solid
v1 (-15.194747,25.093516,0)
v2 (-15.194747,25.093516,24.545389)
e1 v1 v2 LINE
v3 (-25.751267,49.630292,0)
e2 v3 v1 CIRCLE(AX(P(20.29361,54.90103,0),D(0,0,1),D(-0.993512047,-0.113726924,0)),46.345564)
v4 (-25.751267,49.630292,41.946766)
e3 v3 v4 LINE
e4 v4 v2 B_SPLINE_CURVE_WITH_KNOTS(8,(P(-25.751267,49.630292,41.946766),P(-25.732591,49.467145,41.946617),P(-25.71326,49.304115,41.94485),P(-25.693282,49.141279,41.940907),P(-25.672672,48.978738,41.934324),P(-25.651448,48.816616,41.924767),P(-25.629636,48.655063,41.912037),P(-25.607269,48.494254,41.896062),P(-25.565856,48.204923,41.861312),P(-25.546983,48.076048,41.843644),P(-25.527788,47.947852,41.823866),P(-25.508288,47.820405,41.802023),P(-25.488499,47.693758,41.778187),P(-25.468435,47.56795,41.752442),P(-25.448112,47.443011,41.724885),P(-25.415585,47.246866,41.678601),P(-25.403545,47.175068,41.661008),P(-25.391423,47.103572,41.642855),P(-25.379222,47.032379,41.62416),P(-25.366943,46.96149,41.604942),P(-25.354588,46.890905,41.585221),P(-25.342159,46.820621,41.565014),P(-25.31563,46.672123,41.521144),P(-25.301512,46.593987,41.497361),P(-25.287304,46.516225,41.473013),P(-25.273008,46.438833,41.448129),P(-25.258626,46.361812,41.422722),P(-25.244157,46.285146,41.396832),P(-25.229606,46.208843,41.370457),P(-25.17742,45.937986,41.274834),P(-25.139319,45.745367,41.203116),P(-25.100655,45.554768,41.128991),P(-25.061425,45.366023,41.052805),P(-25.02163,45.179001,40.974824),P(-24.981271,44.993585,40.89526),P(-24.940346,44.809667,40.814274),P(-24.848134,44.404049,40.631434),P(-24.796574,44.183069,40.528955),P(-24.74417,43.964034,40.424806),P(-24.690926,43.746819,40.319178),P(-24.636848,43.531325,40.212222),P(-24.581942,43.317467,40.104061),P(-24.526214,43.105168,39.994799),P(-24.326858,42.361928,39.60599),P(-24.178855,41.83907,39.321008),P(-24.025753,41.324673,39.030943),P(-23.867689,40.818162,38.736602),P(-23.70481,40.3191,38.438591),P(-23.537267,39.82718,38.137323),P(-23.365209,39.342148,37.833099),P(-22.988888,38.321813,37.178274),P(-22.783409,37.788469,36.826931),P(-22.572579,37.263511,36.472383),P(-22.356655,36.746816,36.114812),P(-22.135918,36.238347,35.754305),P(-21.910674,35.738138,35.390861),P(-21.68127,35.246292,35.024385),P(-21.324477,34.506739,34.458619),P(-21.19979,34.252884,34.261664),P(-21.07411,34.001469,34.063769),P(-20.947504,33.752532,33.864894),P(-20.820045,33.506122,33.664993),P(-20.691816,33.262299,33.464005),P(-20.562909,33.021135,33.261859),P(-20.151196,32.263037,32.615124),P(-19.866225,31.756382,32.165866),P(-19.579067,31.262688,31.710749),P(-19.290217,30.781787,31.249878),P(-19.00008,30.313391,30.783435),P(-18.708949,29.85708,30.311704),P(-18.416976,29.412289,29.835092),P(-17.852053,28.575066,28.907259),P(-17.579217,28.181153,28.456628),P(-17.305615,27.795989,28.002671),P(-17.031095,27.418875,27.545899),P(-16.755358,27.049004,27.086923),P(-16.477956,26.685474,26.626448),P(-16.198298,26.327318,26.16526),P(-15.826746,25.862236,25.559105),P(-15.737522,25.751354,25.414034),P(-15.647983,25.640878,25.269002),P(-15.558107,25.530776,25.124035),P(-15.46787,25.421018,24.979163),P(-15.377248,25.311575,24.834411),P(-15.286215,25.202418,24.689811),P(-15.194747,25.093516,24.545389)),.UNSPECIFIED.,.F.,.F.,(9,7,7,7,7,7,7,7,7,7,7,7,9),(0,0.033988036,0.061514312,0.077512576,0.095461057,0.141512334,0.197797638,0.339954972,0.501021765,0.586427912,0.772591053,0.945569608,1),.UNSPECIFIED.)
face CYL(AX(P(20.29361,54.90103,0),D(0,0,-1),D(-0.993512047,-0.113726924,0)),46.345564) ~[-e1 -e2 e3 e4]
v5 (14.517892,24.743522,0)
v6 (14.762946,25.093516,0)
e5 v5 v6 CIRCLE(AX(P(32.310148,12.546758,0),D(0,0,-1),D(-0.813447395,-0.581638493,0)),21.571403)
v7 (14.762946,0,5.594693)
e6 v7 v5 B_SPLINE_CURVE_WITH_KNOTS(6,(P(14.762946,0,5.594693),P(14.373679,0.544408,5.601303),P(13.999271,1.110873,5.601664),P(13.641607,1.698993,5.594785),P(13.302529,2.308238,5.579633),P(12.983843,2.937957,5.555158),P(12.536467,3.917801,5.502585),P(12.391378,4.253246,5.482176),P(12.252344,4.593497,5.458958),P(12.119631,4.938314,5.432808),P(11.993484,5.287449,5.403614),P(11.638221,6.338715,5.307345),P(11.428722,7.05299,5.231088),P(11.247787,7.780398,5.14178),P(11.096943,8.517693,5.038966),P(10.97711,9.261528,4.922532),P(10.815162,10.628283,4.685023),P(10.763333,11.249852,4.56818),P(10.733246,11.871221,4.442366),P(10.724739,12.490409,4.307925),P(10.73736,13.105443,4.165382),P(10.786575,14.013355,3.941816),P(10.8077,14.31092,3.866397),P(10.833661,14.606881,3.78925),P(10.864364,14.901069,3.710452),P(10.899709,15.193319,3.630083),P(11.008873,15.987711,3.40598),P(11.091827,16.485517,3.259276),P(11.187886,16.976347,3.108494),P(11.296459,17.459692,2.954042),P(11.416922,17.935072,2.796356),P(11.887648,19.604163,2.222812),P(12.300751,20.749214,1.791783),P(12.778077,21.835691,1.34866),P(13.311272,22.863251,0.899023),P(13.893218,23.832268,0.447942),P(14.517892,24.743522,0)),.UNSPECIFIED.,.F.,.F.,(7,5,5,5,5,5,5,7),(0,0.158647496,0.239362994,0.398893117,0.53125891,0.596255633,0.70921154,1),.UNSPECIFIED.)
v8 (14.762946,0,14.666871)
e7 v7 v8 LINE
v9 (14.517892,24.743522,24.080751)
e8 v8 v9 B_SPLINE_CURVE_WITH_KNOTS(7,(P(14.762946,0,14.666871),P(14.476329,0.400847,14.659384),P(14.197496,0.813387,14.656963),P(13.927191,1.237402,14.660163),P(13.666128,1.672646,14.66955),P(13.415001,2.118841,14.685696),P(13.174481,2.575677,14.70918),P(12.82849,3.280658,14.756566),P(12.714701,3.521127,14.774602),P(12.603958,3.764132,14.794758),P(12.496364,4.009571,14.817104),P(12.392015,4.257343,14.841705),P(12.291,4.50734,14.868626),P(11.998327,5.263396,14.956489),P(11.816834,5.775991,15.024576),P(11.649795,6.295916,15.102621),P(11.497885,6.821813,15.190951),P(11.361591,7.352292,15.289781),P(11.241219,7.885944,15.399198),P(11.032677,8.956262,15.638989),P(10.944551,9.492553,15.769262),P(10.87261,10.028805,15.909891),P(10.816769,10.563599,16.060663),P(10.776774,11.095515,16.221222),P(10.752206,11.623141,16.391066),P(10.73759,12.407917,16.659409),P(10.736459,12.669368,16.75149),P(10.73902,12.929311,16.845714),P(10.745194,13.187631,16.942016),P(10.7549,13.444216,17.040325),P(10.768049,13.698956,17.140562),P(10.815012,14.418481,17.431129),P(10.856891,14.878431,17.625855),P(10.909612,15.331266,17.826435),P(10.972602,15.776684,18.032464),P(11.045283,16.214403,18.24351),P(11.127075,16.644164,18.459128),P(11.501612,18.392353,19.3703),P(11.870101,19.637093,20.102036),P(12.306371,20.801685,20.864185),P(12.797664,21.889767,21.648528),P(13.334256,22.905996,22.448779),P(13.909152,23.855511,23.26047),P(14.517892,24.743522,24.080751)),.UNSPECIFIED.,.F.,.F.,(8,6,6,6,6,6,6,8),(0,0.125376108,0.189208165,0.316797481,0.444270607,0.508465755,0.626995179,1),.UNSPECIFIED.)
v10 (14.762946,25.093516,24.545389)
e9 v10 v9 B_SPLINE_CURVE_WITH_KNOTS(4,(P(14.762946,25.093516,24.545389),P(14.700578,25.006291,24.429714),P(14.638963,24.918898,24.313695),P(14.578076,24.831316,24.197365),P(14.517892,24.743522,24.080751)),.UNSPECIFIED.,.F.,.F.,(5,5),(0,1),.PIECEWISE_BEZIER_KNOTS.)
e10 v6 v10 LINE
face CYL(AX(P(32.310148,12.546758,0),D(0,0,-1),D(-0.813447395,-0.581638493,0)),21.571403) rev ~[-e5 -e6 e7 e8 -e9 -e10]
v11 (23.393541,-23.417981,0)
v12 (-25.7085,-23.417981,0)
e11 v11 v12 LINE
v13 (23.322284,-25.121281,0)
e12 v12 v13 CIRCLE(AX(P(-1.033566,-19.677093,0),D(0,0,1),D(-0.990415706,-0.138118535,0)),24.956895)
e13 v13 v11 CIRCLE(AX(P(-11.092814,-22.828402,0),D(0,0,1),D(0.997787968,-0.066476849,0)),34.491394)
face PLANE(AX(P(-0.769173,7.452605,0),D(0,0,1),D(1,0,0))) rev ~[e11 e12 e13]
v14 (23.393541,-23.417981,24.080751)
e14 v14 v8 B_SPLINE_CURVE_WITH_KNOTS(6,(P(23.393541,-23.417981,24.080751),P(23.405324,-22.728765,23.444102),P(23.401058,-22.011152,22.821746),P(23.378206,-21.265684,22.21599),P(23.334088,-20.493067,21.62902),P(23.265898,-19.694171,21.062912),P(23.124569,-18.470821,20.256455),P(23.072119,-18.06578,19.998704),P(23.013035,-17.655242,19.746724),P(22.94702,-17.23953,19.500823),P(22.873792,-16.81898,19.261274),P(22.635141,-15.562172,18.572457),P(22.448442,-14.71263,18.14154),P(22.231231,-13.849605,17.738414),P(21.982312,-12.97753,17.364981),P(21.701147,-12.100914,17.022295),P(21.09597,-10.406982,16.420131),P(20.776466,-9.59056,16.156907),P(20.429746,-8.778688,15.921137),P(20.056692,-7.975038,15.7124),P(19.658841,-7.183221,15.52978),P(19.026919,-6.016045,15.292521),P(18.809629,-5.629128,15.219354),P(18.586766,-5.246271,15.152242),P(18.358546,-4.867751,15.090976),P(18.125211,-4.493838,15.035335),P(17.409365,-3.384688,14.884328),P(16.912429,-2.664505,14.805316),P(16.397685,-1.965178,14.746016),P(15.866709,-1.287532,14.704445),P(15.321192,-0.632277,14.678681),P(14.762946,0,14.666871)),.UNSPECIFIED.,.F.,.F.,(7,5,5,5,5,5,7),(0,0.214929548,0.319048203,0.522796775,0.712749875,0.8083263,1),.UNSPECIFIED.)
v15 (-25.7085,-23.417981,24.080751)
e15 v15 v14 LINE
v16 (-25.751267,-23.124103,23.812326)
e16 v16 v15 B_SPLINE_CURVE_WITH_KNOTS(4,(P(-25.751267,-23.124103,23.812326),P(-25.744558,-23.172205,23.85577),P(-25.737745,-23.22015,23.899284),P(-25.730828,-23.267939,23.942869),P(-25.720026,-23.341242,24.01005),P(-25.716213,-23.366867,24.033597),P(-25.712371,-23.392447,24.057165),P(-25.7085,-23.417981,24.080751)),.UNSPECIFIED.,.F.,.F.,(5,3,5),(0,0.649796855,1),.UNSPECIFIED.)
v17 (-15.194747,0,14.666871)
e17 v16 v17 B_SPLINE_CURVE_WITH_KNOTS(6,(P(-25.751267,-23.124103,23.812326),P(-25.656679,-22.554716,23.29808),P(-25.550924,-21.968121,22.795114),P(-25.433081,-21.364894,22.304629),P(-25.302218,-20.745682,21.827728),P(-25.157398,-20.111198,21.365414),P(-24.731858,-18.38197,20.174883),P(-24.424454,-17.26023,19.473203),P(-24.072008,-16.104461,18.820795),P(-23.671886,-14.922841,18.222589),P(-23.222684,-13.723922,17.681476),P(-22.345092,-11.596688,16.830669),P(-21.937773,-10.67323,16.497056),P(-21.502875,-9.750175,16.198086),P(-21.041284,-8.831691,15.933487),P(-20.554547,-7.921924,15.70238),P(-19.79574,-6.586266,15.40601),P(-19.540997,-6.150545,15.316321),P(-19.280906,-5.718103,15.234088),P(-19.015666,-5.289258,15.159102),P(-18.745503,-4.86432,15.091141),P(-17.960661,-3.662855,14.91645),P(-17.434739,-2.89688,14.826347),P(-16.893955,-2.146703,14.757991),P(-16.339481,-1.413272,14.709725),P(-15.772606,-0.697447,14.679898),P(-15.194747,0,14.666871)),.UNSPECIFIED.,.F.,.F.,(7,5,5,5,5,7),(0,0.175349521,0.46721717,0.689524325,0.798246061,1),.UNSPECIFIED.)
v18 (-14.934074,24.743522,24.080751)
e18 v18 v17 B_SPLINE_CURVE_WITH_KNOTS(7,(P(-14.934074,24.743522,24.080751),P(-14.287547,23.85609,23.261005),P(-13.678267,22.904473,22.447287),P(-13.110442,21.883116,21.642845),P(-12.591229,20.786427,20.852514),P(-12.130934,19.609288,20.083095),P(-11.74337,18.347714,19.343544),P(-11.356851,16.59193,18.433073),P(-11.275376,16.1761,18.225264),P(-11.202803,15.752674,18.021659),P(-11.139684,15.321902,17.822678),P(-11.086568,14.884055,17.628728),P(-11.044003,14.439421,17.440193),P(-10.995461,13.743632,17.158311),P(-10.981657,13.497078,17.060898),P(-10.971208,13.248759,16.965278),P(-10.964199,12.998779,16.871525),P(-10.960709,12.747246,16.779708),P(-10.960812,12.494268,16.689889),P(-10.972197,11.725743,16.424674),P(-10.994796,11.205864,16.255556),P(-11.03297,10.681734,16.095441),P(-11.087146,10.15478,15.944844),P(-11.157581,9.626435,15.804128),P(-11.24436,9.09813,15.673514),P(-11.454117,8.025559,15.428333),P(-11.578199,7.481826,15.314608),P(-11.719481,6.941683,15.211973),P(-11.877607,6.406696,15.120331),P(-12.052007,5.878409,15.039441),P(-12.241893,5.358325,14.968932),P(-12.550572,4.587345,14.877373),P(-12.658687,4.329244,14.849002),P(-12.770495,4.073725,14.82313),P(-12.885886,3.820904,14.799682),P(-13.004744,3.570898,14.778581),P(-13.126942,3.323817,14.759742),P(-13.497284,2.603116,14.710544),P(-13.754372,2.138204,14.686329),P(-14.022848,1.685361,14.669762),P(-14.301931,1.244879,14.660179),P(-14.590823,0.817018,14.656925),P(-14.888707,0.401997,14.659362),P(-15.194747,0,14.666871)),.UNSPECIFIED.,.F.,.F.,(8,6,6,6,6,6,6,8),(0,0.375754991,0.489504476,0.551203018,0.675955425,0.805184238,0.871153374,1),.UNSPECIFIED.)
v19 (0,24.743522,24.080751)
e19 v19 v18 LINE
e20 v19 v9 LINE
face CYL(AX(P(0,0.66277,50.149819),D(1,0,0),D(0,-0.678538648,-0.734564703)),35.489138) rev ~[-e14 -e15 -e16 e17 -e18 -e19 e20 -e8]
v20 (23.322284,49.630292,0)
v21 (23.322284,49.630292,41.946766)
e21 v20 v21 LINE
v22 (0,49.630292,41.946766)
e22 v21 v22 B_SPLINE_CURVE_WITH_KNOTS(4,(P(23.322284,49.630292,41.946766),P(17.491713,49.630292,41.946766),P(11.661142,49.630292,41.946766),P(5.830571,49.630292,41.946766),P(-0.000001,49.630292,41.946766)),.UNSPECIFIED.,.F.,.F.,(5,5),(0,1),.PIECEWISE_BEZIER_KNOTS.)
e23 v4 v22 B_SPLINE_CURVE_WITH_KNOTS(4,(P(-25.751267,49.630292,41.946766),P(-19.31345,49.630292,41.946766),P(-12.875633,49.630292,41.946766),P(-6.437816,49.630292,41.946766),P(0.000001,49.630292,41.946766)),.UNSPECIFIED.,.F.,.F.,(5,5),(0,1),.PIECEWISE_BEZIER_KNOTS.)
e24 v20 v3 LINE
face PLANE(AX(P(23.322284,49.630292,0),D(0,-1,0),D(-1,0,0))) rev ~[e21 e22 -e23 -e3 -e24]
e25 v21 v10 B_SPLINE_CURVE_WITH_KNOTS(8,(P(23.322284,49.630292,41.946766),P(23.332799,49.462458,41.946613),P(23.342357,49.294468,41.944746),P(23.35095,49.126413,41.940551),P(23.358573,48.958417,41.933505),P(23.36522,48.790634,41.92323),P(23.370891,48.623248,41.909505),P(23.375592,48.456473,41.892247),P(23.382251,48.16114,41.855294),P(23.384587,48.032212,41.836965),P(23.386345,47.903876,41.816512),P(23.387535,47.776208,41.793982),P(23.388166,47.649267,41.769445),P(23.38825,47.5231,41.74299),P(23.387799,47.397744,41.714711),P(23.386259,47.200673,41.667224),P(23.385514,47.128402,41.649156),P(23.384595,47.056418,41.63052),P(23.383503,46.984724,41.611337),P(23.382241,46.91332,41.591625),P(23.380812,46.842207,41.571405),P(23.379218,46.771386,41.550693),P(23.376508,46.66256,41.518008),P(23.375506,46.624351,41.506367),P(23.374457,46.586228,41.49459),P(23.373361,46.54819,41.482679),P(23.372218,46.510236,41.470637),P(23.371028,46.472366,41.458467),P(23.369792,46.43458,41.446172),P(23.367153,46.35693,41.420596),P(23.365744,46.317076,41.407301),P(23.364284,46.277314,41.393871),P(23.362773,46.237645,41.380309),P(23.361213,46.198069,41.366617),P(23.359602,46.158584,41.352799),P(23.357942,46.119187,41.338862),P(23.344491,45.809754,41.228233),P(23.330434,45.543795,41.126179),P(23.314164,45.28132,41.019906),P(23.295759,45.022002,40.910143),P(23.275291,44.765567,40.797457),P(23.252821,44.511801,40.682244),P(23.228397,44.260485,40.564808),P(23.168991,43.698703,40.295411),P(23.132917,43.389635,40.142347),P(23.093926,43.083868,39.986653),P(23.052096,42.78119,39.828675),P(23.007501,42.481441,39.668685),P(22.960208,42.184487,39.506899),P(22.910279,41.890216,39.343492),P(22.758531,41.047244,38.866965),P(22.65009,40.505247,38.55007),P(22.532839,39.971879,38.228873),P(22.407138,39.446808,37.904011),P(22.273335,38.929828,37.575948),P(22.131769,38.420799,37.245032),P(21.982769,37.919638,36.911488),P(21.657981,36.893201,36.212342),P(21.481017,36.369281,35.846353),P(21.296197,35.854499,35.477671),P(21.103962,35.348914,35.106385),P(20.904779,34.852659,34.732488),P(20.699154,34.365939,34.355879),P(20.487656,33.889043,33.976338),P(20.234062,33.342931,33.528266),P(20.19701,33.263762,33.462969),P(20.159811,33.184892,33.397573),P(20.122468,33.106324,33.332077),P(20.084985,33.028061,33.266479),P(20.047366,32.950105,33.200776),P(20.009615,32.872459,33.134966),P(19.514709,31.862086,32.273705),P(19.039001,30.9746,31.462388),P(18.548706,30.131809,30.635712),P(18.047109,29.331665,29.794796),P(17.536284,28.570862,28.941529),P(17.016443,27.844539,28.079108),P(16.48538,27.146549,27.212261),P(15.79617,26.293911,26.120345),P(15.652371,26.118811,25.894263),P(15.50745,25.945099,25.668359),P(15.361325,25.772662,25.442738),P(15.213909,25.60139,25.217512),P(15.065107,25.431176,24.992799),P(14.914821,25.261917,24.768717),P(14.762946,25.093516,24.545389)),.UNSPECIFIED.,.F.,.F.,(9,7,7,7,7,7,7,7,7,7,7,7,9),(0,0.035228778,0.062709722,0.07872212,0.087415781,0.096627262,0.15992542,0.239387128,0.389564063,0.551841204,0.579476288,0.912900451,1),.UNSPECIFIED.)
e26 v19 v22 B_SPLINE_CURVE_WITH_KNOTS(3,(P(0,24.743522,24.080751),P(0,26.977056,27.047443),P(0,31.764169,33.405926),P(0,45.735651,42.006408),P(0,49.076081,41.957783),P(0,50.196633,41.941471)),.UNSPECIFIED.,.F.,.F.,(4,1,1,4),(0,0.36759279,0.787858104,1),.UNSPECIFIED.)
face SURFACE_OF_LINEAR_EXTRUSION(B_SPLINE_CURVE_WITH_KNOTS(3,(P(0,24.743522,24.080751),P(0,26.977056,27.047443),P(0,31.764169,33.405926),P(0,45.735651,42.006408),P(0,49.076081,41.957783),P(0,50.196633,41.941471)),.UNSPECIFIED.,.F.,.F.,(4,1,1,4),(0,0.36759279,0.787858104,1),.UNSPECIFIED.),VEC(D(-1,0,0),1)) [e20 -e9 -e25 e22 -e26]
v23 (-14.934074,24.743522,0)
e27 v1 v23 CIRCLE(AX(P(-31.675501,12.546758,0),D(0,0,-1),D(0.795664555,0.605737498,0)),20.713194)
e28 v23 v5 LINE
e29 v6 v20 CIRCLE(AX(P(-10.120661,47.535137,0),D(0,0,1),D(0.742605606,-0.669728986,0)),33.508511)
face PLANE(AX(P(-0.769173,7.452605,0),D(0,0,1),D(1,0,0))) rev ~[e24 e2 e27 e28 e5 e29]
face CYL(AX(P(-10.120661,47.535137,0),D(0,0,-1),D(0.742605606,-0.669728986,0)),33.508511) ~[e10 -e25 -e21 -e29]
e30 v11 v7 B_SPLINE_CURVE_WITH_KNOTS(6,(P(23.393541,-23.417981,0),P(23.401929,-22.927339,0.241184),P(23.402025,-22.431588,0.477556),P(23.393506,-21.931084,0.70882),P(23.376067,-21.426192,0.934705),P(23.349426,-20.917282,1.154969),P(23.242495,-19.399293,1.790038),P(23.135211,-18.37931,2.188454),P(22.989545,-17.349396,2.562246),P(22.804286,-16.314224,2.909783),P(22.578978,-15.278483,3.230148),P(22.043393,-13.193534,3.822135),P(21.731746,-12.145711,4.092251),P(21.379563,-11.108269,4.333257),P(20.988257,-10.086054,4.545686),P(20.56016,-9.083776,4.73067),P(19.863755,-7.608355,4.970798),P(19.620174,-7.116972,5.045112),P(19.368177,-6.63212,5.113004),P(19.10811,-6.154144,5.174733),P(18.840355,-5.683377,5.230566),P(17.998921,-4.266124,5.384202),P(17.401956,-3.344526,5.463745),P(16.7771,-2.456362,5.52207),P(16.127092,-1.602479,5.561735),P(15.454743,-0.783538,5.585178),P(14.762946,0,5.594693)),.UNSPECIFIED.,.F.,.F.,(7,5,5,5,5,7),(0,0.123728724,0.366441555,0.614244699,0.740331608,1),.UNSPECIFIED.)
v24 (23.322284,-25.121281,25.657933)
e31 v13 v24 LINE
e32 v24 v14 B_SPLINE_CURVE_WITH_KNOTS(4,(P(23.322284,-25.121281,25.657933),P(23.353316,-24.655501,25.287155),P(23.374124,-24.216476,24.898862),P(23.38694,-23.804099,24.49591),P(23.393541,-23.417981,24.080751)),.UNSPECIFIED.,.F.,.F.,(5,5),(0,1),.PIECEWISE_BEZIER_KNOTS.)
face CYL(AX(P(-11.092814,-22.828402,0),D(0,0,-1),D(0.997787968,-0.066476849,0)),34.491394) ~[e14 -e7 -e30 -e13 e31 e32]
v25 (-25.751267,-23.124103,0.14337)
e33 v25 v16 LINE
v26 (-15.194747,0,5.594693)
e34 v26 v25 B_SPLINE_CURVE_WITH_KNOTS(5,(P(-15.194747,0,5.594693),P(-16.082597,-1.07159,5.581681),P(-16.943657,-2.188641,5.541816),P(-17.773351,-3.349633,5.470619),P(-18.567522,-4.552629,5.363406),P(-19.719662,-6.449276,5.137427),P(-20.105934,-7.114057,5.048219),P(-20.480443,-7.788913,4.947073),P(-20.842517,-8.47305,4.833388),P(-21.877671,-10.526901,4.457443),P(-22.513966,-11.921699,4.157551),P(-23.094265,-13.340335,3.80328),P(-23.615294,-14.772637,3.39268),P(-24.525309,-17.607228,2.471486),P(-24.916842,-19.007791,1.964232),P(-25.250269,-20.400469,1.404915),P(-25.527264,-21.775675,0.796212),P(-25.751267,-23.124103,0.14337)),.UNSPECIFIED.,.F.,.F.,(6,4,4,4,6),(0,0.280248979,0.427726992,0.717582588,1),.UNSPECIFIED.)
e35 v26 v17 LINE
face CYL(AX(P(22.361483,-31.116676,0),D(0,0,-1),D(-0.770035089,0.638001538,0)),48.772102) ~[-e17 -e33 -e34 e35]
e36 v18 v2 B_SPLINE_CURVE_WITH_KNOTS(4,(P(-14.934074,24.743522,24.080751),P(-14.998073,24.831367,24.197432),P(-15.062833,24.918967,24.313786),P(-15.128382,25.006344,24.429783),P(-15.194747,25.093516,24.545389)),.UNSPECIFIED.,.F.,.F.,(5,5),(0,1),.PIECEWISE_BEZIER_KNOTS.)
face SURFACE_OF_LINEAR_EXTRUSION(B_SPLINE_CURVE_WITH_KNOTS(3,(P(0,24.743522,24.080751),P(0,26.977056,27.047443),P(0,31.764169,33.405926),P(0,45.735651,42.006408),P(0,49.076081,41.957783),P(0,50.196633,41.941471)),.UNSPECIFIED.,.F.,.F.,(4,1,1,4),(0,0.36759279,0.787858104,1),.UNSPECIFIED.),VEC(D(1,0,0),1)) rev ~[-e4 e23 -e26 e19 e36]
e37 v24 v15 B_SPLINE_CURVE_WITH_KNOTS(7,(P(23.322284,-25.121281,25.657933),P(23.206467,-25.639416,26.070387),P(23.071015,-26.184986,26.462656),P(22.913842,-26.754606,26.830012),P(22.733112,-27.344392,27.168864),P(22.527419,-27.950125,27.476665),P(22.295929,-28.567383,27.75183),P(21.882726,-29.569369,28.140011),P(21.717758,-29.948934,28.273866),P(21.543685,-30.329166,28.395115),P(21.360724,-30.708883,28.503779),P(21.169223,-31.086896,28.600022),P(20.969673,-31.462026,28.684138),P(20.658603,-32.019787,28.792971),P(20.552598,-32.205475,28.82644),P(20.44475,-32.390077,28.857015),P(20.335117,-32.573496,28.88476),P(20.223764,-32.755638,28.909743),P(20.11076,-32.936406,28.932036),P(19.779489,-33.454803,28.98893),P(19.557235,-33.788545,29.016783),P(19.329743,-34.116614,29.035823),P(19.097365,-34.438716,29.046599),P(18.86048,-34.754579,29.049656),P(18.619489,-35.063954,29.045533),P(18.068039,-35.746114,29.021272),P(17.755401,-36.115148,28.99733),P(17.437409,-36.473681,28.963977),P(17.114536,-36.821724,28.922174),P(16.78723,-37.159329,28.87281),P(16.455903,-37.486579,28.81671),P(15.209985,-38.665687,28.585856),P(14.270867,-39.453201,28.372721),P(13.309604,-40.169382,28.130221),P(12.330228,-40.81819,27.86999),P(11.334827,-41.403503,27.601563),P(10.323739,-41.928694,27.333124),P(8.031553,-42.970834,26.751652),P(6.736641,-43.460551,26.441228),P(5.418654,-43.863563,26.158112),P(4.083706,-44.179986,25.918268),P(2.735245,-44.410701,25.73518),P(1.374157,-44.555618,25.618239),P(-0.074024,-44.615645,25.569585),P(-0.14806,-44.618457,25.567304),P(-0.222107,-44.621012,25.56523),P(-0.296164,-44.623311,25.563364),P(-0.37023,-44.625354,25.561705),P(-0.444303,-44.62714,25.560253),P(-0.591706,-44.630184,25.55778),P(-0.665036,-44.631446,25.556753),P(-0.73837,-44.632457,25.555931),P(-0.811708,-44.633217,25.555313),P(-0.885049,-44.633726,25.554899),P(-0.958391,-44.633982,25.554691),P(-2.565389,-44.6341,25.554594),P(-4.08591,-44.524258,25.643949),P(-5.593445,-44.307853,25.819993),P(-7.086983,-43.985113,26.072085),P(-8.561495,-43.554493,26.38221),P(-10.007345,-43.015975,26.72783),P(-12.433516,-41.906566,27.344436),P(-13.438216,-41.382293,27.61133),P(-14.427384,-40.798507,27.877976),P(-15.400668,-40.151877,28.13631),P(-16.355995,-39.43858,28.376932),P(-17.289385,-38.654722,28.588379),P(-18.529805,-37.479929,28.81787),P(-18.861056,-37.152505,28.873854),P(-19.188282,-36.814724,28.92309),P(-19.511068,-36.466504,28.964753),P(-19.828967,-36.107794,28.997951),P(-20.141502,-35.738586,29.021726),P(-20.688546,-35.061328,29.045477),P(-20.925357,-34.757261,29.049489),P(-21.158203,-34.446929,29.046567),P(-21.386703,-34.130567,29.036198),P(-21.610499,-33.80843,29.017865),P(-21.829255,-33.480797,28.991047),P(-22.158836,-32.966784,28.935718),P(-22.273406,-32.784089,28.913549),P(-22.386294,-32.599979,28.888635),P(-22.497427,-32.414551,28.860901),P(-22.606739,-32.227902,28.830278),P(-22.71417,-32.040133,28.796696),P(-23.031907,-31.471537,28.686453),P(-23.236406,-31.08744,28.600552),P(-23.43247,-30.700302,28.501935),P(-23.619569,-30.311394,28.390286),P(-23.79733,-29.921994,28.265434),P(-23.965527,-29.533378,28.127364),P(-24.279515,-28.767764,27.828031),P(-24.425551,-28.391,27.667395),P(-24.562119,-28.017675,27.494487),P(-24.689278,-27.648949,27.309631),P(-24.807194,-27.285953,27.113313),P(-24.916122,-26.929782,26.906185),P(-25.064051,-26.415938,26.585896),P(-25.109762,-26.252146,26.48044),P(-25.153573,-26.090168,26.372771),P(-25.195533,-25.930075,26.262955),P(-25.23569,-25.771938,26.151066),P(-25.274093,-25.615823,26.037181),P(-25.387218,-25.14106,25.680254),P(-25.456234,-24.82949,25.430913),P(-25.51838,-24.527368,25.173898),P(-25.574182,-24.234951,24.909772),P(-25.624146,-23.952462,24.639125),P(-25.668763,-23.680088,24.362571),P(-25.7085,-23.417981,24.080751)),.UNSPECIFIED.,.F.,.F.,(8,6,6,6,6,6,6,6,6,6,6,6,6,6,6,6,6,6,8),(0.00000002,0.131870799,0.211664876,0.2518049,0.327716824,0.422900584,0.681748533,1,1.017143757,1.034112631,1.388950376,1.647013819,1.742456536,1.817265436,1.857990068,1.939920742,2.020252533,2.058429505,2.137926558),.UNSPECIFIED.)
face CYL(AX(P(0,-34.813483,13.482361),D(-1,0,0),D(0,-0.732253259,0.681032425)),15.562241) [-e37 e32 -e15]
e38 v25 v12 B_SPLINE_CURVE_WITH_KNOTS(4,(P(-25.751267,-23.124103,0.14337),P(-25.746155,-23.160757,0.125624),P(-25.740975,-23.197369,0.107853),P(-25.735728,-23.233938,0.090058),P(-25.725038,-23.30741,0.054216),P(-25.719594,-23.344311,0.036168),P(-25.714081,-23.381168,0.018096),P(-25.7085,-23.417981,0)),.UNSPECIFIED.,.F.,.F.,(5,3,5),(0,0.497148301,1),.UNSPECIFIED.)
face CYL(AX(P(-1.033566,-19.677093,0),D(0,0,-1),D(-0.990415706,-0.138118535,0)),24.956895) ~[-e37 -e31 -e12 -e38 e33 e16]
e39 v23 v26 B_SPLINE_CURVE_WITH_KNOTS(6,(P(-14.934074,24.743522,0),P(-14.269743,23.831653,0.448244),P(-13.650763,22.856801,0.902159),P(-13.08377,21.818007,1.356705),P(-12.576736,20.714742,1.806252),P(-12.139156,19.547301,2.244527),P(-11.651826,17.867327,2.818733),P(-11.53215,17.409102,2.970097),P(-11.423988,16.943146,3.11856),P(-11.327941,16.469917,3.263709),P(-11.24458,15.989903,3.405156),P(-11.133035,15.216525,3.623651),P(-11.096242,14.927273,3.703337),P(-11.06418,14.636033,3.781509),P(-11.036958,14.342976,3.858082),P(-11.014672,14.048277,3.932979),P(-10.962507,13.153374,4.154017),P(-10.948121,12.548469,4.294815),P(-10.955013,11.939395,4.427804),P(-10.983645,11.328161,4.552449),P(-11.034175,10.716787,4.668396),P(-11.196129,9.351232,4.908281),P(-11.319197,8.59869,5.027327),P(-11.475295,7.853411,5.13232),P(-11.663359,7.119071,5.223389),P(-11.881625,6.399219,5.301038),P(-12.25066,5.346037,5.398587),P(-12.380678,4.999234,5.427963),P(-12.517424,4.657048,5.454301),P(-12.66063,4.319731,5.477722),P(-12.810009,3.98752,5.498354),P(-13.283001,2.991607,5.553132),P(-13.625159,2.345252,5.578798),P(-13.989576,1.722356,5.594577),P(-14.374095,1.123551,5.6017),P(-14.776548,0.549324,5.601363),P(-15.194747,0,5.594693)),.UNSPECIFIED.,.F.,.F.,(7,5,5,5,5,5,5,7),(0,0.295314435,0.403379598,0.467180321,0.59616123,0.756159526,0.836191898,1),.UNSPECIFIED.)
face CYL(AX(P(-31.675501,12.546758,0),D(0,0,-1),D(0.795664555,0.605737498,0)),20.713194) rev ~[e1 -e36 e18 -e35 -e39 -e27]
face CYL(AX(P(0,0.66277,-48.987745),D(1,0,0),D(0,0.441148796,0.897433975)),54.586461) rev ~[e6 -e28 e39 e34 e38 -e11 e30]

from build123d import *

# Parameters (mm, degrees)
F1_DEPTH = 50.8
F3_DEPTH = 25.4
F4_DEPTH = 50.8


with BuildPart() as f1:
    # F0 (on Top) → F1 (new body)
    with BuildSketch(Plane.XY):
        with BuildLine():
            ThreePointArc((-15.1947466657, 0), (-22.0060110943, -10.86221038), (-25.7512666285, -23.1241025031))
            ThreePointArc((-25.7512666285, -23.1241025031), (-2.0484127491, -44.6133454073), (23.3222842216, -25.1212809235))
            ThreePointArc((23.3222842216, -25.1212809235), (21.5555211936, -11.7044416716), (14.7629464045, 0))
            ThreePointArc((14.7629464045, 0), (10.7387450248, 12.5467581674), (14.7629464045, 25.0935163349))
            ThreePointArc((14.7629464045, 25.0935163349), (21.5180813897, 36.4983696165), (23.3222842216, 49.63029176))
            Line((23.3222842216, 49.63029176), (-25.7512666285, 49.63029176))
            ThreePointArc((-25.7512666285, 49.63029176), (-22.2790381522, 36.5848904706), (-15.1947466657, 25.0935163349))
            ThreePointArc((-15.1947466657, 25.0935163349), (-10.9623069939, 12.5467581674), (-15.1947466657, 0))
        make_face()
    extrude(amount=F1_DEPTH)

    # F2 (on Right) → F3 (cut)
    with BuildSketch(Plane.YZ):
        with BuildLine():
            ThreePointArc((24.7435215861, 0), (0.6627701223, 5.5987162901), (-23.4179813415, 0))
            Line((-23.4179813415, 0), (24.7435215861, 0))
        make_face()
        with BuildLine():
            ThreePointArc((-46.2089851499, 24.0807514638), (-34.8134832457, 29.0446018263), (-23.4179813415, 24.0807514638))
            ThreePointArc((-23.4179813415, 24.0807514638), (0.6627701223, 14.6606816853), (24.7435215861, 24.0807514638))
            add(Edge.make_bspline(
                [(24.7435215861, 24.0807514638), (26.9770560839, 27.0474434767), (31.7641691677, 33.4059260361), (45.7356507893, 42.0064080333), (49.0760807653, 41.9577828011), (50.1966327429, 41.9414713979)],
                knots=[0, 0, 0, 0, 0.3675927898, 0.7878581036, 1, 1, 1, 1], degree=3))
            Line((50.1966327429, 41.9414713979), (50.1966327429, 52.80091241))
            Line((50.1966327429, 52.80091241), (-46.2089851499, 52.80091241))
            Line((-46.2089851499, 52.80091241), (-46.2089851499, 24.0807514638))
        make_face()
    extrude(amount=F3_DEPTH, mode=Mode.SUBTRACT)

    # F2 (on Right) → F4 (cut)
    with BuildSketch(Plane.YZ):
        with BuildLine():
            ThreePointArc((-46.2089851499, 24.0807514638), (-34.8134832457, 29.0446018263), (-23.4179813415, 24.0807514638))
            ThreePointArc((-23.4179813415, 24.0807514638), (0.6627701223, 14.6606816853), (24.7435215861, 24.0807514638))
            add(Edge.make_bspline(
                [(24.7435215861, 24.0807514638), (26.9770560839, 27.0474434767), (31.7641691677, 33.4059260361), (45.7356507893, 42.0064080333), (49.0760807653, 41.9577828011), (50.1966327429, 41.9414713979)],
                knots=[0, 0, 0, 0, 0.3675927898, 0.7878581036, 1, 1, 1, 1], degree=3))
            Line((50.1966327429, 41.9414713979), (50.1966327429, 52.80091241))
            Line((50.1966327429, 52.80091241), (-46.2089851499, 52.80091241))
            Line((-46.2089851499, 52.80091241), (-46.2089851499, 24.0807514638))
        make_face()
        with BuildLine():
            ThreePointArc((24.7435215861, 0), (0.6627701223, 5.5987162901), (-23.4179813415, 0))
            Line((-23.4179813415, 0), (24.7435215861, 0))
        make_face()
    extrude(amount=-F4_DEPTH, mode=Mode.SUBTRACT)


solid = f1.part
